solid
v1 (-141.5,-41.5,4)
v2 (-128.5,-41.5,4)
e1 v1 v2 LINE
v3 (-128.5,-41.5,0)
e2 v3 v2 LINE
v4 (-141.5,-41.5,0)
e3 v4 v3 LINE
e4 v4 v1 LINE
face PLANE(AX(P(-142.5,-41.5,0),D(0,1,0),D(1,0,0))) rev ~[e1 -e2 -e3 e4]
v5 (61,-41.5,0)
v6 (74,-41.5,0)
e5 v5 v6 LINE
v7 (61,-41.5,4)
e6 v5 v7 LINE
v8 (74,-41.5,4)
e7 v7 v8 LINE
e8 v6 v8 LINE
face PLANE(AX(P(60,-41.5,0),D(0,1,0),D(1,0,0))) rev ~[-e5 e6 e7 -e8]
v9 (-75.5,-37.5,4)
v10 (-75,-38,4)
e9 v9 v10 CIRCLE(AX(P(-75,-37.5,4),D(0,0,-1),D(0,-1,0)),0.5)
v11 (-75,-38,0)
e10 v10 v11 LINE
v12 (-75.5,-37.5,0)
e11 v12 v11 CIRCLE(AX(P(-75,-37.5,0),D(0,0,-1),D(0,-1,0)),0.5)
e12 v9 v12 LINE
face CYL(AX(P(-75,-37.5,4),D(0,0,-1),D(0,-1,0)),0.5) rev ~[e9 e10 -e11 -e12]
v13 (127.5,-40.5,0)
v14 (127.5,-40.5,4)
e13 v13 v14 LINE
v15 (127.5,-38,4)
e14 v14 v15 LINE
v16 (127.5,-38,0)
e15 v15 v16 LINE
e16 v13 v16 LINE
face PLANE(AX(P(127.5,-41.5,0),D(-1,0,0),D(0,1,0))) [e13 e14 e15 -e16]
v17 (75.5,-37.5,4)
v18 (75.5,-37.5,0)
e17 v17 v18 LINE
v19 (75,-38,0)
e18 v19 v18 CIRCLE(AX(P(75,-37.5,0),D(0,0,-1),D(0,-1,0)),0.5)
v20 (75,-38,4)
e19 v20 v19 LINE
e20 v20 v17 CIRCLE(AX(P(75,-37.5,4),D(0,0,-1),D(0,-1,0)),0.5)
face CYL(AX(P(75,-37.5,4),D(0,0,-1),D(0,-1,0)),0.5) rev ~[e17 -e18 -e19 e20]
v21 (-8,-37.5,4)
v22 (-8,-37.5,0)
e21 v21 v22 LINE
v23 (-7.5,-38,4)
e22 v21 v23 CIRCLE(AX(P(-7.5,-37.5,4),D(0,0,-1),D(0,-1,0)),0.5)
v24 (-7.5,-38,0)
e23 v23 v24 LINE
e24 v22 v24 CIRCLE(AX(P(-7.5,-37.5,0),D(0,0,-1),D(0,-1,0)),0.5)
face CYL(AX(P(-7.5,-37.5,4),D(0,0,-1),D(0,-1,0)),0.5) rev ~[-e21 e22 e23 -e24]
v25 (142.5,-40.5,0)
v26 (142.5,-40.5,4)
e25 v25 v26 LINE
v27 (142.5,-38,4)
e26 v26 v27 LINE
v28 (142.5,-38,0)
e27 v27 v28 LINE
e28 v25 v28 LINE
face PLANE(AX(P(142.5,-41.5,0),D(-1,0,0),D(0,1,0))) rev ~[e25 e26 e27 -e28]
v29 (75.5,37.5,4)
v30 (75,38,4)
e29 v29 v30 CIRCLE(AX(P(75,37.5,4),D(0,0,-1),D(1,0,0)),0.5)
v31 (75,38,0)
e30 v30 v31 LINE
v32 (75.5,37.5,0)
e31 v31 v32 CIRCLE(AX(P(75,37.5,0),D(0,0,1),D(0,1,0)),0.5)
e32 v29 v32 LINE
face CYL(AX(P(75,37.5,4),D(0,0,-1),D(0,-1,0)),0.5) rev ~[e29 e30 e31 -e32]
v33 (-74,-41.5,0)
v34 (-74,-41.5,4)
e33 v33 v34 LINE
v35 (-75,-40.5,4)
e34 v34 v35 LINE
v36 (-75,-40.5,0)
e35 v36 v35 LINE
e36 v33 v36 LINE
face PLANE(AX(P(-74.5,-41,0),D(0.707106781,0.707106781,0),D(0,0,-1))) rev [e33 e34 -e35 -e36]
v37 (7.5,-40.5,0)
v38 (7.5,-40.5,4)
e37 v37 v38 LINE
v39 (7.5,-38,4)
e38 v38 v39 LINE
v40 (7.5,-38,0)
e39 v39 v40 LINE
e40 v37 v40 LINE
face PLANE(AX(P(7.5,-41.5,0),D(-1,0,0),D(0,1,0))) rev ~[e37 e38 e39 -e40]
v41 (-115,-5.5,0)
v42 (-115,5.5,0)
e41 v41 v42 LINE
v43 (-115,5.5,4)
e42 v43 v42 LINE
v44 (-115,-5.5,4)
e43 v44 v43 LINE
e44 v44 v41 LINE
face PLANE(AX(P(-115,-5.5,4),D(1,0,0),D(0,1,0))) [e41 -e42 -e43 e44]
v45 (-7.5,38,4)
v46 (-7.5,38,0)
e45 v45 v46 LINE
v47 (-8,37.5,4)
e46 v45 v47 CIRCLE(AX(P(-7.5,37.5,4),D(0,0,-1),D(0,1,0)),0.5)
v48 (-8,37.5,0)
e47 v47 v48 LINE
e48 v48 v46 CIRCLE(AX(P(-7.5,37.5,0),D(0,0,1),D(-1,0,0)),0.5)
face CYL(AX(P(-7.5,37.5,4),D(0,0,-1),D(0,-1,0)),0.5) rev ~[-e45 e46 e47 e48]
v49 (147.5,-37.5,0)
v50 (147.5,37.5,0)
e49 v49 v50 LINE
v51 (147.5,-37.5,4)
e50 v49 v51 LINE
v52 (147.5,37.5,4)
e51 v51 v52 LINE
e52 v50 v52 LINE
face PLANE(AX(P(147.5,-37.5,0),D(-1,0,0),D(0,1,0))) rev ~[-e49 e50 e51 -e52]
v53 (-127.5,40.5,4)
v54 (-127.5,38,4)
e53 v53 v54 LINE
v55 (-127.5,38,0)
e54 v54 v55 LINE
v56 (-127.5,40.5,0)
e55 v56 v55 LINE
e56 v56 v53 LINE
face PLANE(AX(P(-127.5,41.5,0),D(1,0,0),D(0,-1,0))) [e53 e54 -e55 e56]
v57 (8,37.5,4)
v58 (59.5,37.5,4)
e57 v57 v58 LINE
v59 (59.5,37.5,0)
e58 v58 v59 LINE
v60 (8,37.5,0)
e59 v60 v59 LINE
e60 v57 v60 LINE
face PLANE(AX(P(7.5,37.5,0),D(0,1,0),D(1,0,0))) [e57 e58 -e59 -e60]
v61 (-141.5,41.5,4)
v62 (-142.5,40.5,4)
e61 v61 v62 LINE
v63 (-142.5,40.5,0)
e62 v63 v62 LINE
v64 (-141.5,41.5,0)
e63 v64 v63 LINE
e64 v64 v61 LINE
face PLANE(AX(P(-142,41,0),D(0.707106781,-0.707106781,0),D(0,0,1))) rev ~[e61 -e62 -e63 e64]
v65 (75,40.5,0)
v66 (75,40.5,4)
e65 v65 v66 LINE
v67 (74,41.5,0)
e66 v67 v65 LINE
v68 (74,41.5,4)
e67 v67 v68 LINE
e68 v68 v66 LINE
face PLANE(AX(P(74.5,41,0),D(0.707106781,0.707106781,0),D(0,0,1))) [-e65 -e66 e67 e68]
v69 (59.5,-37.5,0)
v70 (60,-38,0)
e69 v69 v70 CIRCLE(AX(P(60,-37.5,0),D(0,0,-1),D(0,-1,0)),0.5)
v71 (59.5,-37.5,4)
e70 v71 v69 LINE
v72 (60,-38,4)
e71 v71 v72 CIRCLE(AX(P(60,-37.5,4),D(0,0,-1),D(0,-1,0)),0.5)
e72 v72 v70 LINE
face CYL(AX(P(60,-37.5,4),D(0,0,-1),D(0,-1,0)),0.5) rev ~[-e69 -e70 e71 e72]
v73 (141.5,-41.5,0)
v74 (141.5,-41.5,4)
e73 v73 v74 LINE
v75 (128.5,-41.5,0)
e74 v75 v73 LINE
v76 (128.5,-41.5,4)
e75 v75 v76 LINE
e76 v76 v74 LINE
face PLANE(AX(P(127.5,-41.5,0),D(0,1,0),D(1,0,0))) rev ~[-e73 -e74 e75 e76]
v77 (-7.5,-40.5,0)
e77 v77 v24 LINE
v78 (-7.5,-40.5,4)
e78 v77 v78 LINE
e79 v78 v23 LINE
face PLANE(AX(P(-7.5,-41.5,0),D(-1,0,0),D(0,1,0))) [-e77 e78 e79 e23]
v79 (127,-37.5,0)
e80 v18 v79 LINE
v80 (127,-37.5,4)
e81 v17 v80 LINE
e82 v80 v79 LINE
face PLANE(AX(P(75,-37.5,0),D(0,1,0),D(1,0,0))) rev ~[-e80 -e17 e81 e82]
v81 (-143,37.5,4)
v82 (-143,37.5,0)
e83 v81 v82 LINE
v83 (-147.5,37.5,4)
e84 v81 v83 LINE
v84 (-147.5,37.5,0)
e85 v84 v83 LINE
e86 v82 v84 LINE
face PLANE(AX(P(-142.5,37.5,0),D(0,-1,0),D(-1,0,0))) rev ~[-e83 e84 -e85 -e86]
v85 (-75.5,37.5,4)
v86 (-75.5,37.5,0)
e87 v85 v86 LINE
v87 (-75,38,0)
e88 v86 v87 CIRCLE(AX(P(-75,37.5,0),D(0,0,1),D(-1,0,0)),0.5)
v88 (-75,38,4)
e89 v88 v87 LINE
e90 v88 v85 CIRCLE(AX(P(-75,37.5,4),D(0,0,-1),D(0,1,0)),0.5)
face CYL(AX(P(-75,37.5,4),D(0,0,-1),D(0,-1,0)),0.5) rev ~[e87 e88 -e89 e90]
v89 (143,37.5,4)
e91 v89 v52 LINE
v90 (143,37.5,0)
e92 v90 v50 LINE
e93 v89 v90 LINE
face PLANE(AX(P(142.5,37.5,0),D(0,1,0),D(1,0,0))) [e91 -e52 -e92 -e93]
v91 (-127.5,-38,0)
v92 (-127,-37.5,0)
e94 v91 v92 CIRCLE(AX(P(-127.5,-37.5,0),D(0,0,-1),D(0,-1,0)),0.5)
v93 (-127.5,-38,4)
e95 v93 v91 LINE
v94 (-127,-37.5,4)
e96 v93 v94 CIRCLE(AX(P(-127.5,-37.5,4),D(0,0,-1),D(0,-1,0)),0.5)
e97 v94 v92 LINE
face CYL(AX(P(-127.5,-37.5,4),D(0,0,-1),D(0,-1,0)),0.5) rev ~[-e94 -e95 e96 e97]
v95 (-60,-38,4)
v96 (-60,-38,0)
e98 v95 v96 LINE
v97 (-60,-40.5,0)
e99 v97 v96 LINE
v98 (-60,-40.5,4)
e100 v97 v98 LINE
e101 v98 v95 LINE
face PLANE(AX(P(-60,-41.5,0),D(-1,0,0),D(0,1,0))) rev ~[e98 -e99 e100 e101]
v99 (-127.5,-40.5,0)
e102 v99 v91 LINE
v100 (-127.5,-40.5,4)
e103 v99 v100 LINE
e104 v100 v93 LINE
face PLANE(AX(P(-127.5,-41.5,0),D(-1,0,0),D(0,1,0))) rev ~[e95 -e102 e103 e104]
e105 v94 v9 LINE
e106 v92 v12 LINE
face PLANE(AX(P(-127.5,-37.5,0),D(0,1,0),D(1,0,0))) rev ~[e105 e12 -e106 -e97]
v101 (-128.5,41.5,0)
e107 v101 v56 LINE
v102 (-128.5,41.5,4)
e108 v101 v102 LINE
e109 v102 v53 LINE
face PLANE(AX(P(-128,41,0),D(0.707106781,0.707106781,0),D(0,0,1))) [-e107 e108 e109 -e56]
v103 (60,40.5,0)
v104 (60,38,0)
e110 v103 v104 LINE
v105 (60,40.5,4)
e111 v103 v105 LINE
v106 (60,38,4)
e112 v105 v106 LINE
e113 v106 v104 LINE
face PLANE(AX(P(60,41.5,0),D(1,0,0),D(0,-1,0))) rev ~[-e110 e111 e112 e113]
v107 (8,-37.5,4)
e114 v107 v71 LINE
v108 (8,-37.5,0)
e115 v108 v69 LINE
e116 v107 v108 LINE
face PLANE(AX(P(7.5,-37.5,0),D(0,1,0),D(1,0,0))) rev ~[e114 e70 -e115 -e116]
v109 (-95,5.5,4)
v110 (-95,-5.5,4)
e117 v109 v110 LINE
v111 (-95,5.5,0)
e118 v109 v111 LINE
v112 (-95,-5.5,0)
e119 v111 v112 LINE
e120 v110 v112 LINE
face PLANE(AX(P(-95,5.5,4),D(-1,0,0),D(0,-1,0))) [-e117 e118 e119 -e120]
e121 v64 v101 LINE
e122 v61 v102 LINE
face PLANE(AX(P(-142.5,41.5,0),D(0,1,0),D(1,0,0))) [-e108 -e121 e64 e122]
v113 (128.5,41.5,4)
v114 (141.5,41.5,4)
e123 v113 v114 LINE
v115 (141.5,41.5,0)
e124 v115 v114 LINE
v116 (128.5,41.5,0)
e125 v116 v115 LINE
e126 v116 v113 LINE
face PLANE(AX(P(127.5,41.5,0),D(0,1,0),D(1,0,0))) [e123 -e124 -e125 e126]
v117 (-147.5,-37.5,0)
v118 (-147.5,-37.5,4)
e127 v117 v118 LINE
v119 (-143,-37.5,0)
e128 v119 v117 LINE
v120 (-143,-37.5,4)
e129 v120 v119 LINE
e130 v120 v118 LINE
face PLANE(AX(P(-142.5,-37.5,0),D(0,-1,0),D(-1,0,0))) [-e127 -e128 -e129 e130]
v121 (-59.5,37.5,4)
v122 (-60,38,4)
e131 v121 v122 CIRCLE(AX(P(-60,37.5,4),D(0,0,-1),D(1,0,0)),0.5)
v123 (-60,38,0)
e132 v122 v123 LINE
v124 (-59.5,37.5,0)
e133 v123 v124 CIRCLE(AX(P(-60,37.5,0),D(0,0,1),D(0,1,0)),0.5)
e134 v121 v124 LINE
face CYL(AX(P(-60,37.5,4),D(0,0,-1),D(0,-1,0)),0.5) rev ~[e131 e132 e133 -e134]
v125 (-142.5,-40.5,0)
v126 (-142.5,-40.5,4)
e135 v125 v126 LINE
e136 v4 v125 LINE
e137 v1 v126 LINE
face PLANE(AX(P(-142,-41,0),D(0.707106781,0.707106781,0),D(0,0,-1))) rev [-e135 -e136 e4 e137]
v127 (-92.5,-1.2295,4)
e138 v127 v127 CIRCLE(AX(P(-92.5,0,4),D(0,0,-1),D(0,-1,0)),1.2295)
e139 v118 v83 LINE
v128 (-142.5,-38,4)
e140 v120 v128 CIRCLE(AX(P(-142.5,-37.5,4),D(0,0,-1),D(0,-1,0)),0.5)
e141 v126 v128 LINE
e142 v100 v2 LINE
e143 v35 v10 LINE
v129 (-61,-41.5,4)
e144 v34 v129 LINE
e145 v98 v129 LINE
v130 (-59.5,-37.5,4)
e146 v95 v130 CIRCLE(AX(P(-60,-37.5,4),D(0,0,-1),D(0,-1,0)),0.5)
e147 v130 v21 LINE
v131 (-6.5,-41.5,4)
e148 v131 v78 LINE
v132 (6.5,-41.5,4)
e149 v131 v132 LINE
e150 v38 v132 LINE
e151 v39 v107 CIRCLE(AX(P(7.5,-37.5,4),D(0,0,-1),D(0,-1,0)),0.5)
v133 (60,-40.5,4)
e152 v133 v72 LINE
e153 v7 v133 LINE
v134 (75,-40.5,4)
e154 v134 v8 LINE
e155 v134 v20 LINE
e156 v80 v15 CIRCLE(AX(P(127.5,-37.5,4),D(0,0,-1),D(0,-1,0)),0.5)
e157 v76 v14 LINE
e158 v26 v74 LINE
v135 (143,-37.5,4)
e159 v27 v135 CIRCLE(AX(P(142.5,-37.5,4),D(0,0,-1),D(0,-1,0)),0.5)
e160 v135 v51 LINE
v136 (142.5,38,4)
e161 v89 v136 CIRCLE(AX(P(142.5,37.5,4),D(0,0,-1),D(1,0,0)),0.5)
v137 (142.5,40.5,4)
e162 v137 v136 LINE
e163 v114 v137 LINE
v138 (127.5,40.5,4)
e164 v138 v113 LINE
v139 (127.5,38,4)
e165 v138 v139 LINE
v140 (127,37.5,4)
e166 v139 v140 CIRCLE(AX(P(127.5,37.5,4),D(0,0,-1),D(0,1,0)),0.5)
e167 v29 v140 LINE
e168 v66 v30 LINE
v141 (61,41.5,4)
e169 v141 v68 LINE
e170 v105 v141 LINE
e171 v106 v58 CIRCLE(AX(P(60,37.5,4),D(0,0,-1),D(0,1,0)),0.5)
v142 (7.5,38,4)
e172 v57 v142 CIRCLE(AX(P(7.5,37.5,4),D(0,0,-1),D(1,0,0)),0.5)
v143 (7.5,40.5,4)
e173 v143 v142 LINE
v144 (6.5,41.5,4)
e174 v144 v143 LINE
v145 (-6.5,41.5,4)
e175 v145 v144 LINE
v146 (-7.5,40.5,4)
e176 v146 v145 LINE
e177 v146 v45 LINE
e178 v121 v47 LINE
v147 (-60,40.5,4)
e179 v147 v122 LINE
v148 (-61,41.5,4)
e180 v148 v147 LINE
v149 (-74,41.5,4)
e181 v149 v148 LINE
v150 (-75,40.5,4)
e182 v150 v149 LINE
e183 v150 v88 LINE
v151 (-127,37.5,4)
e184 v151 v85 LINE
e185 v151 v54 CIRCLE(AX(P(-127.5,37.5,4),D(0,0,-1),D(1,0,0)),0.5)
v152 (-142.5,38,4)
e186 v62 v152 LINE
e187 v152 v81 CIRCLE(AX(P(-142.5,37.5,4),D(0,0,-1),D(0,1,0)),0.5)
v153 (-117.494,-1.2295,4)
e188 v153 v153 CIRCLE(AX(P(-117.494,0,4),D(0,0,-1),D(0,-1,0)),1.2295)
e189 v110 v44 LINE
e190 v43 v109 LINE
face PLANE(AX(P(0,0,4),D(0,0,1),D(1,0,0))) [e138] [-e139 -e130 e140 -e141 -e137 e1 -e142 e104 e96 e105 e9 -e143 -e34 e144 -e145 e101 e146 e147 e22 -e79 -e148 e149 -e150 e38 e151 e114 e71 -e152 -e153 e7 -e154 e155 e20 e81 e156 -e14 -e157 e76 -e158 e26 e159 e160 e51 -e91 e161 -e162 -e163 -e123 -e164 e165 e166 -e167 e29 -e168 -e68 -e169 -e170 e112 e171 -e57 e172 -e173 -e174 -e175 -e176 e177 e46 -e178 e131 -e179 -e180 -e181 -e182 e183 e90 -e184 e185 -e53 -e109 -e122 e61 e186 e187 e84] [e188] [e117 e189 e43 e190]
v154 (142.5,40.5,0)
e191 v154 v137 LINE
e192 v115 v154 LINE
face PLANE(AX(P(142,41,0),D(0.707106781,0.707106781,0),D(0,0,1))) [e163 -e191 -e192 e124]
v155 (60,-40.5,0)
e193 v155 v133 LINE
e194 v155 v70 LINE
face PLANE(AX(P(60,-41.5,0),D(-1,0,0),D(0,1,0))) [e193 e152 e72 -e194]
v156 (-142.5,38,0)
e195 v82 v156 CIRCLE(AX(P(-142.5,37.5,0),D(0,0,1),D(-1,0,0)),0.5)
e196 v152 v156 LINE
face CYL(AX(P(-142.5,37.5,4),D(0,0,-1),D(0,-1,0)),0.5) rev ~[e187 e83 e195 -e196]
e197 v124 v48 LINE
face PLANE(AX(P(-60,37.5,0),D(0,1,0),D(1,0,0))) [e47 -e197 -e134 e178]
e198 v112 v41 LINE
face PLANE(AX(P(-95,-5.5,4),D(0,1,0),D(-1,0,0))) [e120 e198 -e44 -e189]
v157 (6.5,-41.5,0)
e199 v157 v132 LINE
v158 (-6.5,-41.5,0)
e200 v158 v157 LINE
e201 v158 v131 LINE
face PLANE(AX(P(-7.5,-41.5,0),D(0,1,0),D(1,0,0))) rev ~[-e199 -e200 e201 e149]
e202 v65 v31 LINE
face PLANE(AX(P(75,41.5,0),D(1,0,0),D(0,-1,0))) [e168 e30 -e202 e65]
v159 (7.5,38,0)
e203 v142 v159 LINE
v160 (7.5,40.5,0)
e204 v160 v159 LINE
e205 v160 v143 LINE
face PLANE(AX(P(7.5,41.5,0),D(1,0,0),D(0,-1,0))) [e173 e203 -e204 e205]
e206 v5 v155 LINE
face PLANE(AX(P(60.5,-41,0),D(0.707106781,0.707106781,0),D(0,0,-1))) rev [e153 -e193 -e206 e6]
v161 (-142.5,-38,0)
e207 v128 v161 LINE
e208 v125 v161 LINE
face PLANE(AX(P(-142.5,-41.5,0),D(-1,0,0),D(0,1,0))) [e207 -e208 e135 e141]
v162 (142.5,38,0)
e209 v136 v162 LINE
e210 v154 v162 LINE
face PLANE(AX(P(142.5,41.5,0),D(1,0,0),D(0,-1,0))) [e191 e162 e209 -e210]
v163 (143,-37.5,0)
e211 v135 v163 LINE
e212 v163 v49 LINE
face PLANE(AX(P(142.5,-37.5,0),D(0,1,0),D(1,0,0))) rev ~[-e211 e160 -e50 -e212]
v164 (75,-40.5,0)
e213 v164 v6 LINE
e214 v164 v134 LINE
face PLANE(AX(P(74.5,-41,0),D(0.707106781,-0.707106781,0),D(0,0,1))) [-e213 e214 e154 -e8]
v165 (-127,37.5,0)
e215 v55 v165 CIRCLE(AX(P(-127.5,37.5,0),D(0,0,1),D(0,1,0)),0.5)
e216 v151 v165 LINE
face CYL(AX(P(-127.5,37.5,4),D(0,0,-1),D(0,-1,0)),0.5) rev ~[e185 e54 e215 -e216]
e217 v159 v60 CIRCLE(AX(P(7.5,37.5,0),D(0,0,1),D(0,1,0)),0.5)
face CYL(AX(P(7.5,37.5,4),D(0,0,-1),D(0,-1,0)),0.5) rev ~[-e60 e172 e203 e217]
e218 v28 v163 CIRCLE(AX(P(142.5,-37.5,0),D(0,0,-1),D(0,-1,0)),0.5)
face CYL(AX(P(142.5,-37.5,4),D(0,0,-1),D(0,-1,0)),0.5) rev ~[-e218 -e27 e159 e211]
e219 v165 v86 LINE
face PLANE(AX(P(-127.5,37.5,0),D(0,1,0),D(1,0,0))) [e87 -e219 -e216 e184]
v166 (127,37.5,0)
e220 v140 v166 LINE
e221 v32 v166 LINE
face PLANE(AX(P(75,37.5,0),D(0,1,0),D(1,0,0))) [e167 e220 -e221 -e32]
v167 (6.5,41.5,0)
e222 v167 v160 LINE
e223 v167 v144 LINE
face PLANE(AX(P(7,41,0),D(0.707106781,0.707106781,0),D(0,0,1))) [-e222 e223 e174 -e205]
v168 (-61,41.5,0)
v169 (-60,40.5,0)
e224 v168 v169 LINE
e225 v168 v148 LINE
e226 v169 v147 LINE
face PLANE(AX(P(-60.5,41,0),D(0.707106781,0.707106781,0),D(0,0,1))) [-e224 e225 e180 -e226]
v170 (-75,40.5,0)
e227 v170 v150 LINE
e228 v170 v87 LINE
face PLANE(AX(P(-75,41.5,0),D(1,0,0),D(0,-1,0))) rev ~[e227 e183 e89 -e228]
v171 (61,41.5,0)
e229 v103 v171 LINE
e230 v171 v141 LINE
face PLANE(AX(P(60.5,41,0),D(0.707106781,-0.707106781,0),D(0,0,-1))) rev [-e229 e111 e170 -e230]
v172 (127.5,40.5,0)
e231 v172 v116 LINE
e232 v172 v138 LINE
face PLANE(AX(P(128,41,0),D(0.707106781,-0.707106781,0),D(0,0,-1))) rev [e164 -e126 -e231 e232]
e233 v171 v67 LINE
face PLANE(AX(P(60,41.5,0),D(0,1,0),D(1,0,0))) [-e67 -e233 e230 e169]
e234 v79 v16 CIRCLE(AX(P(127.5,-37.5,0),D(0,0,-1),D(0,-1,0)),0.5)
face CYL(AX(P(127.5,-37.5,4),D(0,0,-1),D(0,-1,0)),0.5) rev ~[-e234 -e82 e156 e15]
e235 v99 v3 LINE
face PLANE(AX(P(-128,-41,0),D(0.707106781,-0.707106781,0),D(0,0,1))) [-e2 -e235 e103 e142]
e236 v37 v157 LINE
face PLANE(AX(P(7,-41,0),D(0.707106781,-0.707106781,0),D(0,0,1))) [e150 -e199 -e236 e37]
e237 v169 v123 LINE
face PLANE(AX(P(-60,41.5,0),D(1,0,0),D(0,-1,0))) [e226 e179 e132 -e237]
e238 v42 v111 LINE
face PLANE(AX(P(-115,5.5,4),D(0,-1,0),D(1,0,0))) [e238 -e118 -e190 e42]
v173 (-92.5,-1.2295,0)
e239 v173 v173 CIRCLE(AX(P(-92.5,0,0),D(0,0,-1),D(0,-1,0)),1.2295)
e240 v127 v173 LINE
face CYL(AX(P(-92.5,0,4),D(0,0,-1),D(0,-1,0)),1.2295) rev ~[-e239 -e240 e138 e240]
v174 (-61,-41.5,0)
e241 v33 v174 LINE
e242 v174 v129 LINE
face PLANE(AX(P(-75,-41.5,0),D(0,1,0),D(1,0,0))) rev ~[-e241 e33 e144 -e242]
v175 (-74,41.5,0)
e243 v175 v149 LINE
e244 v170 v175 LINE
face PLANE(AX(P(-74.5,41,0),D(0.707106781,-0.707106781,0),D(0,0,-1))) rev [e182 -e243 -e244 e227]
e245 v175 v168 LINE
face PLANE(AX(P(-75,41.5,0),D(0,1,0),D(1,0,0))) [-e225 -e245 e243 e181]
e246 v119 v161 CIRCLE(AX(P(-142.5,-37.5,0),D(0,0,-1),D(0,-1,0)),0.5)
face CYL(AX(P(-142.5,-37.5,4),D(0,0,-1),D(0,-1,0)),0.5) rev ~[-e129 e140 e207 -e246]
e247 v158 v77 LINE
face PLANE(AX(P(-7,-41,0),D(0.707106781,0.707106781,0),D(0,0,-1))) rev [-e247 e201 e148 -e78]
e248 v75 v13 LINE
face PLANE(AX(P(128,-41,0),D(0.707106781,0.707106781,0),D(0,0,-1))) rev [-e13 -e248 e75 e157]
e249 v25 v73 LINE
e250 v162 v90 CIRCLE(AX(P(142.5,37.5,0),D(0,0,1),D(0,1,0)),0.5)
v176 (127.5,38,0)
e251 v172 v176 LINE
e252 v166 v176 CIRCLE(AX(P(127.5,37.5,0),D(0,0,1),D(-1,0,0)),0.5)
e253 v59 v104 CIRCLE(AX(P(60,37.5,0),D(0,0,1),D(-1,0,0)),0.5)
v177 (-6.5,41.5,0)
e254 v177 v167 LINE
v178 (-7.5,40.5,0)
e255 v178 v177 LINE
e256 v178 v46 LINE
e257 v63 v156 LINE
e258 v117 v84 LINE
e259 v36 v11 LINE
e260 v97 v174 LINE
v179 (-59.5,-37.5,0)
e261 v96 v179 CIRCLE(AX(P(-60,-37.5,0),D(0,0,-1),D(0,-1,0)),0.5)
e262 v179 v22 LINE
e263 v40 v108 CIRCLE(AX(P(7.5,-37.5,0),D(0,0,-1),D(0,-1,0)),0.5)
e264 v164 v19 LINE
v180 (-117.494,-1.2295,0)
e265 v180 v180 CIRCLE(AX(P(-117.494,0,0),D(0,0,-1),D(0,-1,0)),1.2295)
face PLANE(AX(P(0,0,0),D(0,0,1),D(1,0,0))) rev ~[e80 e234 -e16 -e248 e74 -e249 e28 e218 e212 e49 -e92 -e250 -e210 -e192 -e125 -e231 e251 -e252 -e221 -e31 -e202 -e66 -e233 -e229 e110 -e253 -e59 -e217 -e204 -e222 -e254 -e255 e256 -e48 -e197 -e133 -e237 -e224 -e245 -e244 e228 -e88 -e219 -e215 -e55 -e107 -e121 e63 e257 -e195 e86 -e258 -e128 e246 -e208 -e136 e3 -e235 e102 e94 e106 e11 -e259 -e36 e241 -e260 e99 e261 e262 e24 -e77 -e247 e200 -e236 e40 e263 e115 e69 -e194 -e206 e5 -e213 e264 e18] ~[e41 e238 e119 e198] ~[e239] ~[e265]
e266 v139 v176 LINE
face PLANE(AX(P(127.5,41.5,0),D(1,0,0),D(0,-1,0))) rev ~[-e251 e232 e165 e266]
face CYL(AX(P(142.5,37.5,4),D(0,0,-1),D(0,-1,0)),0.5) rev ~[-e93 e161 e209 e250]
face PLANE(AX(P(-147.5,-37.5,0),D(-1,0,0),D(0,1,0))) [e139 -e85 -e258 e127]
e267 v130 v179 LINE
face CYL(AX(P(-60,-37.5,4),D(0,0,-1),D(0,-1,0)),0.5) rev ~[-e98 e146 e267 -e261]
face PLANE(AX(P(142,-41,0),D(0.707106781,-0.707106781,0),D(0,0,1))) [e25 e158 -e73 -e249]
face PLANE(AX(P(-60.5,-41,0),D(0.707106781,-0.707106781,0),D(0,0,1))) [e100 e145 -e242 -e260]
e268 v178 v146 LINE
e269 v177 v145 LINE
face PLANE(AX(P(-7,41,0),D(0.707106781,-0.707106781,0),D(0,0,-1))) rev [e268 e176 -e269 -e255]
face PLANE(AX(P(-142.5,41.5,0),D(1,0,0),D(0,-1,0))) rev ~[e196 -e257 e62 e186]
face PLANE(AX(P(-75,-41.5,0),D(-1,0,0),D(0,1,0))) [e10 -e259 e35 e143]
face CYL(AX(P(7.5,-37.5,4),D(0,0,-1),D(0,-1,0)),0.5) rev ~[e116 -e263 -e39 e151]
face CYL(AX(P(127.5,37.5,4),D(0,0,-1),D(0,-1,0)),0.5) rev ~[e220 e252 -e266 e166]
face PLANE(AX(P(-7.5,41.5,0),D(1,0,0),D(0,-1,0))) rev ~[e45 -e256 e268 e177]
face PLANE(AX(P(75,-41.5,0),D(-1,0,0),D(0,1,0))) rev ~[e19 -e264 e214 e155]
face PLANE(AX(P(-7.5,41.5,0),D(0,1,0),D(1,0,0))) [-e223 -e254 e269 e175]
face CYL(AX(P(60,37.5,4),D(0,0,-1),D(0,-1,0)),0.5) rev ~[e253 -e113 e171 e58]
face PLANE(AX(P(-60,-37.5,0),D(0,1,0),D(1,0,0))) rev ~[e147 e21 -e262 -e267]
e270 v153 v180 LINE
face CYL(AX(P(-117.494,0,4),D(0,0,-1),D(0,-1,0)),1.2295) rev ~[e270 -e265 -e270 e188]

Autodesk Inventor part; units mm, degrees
ref_plane "Plan YZ" through (0, 0, 0) normal (1, 0, 0) x (0, 1, 0)
ref_plane "Plan XZ" through (0, 0, 0) normal (0, 1, 0) x (-1, 0, 0)
ref_plane "Plan XY" through (0, 0, 0) normal (0, 0, 1) x (1, 0, 0)
sketch "Esquisse1" plane through (0, 0, 0) normal (0, 0, 1) x (1, 0, 0)
  line L0 (-142.5, 41.5) -> (-142.5, 37.5)
  line L1 (-142.5, 41.5) -> (-127.5, 41.5)
  line L2 (-127.5, 41.5) -> (-127.5, 37.5)
  line L3 (0, -58.1) -> (0, 58.1) construction
  line L4 (-206.5, 0) -> (206.5, 0) construction
  line L5 (-75, 41.5) -> (-75, 37.5)
  line L6 (-75, 41.5) -> (-60, 41.5)
  line L7 (-60, 41.5) -> (-60, 37.5)
  line L8 (-7.5, 41.5) -> (-7.5, 37.5)
  line L9 (-7.5, 41.5) -> (7.5, 41.5)
  line L10 (7.5, 41.5) -> (7.5, 37.5)
  line L11 (60, 41.5) -> (60, 37.5)
  line L12 (60, 41.5) -> (75, 41.5)
  line L13 (75, 41.5) -> (75, 37.5)
  line L14 (127.5, 41.5) -> (127.5, 37.5)
  line L15 (127.5, 41.5) -> (142.5, 41.5)
  line L16 (142.5, 41.5) -> (142.5, 37.5)
  line L17 (-127.5, 37.5) -> (-75, 37.5)
  line L18 (-60, 37.5) -> (-7.5, 37.5)
  line L19 (7.5, 37.5) -> (60, 37.5)
  line L20 (75, 37.5) -> (127.5, 37.5)
  line L21 (142.5, 37.5) -> (147.5, 37.5)
  line L22 (-142.5, 37.5) -> (-147.5, 37.5)
  line L23 (-142.5, -41.5) -> (-142.5, -37.5)
  line L24 (-142.5, -41.5) -> (-127.5, -41.5)
  line L25 (-127.5, -41.5) -> (-127.5, -37.5)
  line L26 (-75, -41.5) -> (-75, -37.5)
  line L27 (-75, -41.5) -> (-60, -41.5)
  line L28 (-60, -41.5) -> (-60, -37.5)
  line L29 (-7.5, -41.5) -> (-7.5, -37.5)
  line L30 (-7.5, -41.5) -> (7.5, -41.5)
  line L31 (7.5, -41.5) -> (7.5, -37.5)
  line L32 (60, -41.5) -> (60, -37.5)
  line L33 (60, -41.5) -> (75, -41.5)
  line L34 (75, -41.5) -> (75, -37.5)
  line L35 (127.5, -41.5) -> (127.5, -37.5)
  line L36 (127.5, -41.5) -> (142.5, -41.5)
  line L37 (142.5, -41.5) -> (142.5, -37.5)
  line L38 (-127.5, -37.5) -> (-75, -37.5)
  line L39 (-60, -37.5) -> (-7.5, -37.5)
  line L40 (7.5, -37.5) -> (60, -37.5)
  line L41 (75, -37.5) -> (127.5, -37.5)
  line L42 (142.5, -37.5) -> (147.5, -37.5)
  line L43 (-142.5, -37.5) -> (-147.5, -37.5)
  line L44 (147.5, -37.5) -> (147.5, 37.5)
  line L45 (-147.5, -37.5) -> (-147.5, 37.5)
  point P0 (0, 0)
  dimension "d1" = 15
  dimension "d2" = 4
  dimension "d3" = 4
  dimension "d6" = 67.5
  dimension "d11" = 5
  dimension "d12" = 5
  dimension "d30" = 75
extrude "Extrusion1" add sketch "Esquisse1" along normal blind 4
sketch "Esquisse6" plane through (0, 0, 4) normal (0, 0, 1) x (1, 0, 0)
  line L0 (0, -58.1) -> (0, 58.1) construction
  line L1 (-206.5, 0) -> (206.5, 0) construction
  point P0 (0, 0)
  point P1 (-142.5, 37.5)
  point P2 (-127.5, 37.5)
  point P3 (-75, 37.5)
  point P4 (-60, 37.5)
  point P5 (-7.5, 37.5)
  point P6 (7.5, 37.5)
  point P7 (60, 37.5)
  point P8 (75, 37.5)
  point P9 (142.5, 37.5)
  point P10 (127.5, 37.5)
  point P11 (-142.5, -37.5)
  point P12 (-127.5, -37.5)
  point P13 (-75, -37.5)
  point P14 (-60, -37.5)
  point P15 (-7.5, -37.5)
  point P16 (7.5, -37.5)
  point P17 (60, -37.5)
  point P18 (75, -37.5)
  point P19 (142.5, -37.5)
  point P20 (127.5, -37.5)
hole "Perçage1" at (-142.5, 37.5, 4) at (-127.5, 37.5, 4) at (-75, 37.5, 4) at (-60, 37.5, 4) at (-7.5, 37.5, 4) at (7.5, 37.5, 4) at (60, 37.5, 4) at (75, 37.5, 4) at (142.5, 37.5, 4) at (127.5, 37.5, 4) at (127.5, -37.5, 4) at (142.5, -37.5, 4) at (75, -37.5, 4) at (60, -37.5, 4) at (7.5, -37.5, 4) at (-7.5, -37.5, 4) at (-60, -37.5, 4) at (-75, -37.5, 4) at (-127.5, -37.5, 4) at (-142.5, -37.5, 4) direction (0, 0, -1) diameter 1 end through all
chamfer "Chanfrein1" distance 1 angle 45 20 edges at (-142.5, 41.5, 2) (-127.5, 41.5, 2) (-75, 41.5, 2) (-60, 41.5, 2) (-7.5, 41.5, 2) (7.5, 41.5, 2) (60, 41.5, 2) (75, 41.5, 2) (127.5, 41.5, 2) (142.5, 41.5, 2) (142.5, -41.5, 2) (127.5, -41.5, 2) (60, -41.5, 2) (75, -41.5, 2) (-142.5, -41.5, 2) (-127.5, -41.5, 2) (-75, -41.5, 2) (-60, -41.5, 2) (-7.5, -41.5, 2) (7.5, -41.5, 2)
sketch "Esquisse10" plane through (0, 0, 4) normal (0, 0, 1) x (1, 0, 0)
  line L0 (0, -58.1) -> (0, 58.1) construction
  line L1 (-206.5, 0) -> (206.5, 0) construction
  line L2 (-115, 5.5) -> (-95, 5.5)
  line L3 (-95, 5.5) -> (-95, -5.5)
  line L4 (-95, -5.5) -> (-115, -5.5)
  line L5 (-115, -5.5) -> (-115, 5.5)
  dimension "d61" = 95
  dimension "d62" = 20
  dimension "d63" = 11
sketch "Esquisse11" plane through (0, 0, 4) normal (0, 0, 1) x (1, 0, 0)
  line L0 (-206.5, 0) -> (206.5, 0) construction
  point P0 (0, 0)
  point P1 (-117.494, 0)
  point P2 (-92.5, 0)
  dimension "d66" = 24.994
  dimension "d69" = 92.5
extrude "Extrusion4" cut sketch "Esquisse10" against normal blind 10
hole "Perçage5" at (-117.494, 0, 4) at (-92.5, 0, 4) direction (0, 0, -1) diameter 2.459 end through all thread size "M3x0.5" class "6H" standard "ISO M"
properties part number "P1704_004" material "Plastique PMMA"
